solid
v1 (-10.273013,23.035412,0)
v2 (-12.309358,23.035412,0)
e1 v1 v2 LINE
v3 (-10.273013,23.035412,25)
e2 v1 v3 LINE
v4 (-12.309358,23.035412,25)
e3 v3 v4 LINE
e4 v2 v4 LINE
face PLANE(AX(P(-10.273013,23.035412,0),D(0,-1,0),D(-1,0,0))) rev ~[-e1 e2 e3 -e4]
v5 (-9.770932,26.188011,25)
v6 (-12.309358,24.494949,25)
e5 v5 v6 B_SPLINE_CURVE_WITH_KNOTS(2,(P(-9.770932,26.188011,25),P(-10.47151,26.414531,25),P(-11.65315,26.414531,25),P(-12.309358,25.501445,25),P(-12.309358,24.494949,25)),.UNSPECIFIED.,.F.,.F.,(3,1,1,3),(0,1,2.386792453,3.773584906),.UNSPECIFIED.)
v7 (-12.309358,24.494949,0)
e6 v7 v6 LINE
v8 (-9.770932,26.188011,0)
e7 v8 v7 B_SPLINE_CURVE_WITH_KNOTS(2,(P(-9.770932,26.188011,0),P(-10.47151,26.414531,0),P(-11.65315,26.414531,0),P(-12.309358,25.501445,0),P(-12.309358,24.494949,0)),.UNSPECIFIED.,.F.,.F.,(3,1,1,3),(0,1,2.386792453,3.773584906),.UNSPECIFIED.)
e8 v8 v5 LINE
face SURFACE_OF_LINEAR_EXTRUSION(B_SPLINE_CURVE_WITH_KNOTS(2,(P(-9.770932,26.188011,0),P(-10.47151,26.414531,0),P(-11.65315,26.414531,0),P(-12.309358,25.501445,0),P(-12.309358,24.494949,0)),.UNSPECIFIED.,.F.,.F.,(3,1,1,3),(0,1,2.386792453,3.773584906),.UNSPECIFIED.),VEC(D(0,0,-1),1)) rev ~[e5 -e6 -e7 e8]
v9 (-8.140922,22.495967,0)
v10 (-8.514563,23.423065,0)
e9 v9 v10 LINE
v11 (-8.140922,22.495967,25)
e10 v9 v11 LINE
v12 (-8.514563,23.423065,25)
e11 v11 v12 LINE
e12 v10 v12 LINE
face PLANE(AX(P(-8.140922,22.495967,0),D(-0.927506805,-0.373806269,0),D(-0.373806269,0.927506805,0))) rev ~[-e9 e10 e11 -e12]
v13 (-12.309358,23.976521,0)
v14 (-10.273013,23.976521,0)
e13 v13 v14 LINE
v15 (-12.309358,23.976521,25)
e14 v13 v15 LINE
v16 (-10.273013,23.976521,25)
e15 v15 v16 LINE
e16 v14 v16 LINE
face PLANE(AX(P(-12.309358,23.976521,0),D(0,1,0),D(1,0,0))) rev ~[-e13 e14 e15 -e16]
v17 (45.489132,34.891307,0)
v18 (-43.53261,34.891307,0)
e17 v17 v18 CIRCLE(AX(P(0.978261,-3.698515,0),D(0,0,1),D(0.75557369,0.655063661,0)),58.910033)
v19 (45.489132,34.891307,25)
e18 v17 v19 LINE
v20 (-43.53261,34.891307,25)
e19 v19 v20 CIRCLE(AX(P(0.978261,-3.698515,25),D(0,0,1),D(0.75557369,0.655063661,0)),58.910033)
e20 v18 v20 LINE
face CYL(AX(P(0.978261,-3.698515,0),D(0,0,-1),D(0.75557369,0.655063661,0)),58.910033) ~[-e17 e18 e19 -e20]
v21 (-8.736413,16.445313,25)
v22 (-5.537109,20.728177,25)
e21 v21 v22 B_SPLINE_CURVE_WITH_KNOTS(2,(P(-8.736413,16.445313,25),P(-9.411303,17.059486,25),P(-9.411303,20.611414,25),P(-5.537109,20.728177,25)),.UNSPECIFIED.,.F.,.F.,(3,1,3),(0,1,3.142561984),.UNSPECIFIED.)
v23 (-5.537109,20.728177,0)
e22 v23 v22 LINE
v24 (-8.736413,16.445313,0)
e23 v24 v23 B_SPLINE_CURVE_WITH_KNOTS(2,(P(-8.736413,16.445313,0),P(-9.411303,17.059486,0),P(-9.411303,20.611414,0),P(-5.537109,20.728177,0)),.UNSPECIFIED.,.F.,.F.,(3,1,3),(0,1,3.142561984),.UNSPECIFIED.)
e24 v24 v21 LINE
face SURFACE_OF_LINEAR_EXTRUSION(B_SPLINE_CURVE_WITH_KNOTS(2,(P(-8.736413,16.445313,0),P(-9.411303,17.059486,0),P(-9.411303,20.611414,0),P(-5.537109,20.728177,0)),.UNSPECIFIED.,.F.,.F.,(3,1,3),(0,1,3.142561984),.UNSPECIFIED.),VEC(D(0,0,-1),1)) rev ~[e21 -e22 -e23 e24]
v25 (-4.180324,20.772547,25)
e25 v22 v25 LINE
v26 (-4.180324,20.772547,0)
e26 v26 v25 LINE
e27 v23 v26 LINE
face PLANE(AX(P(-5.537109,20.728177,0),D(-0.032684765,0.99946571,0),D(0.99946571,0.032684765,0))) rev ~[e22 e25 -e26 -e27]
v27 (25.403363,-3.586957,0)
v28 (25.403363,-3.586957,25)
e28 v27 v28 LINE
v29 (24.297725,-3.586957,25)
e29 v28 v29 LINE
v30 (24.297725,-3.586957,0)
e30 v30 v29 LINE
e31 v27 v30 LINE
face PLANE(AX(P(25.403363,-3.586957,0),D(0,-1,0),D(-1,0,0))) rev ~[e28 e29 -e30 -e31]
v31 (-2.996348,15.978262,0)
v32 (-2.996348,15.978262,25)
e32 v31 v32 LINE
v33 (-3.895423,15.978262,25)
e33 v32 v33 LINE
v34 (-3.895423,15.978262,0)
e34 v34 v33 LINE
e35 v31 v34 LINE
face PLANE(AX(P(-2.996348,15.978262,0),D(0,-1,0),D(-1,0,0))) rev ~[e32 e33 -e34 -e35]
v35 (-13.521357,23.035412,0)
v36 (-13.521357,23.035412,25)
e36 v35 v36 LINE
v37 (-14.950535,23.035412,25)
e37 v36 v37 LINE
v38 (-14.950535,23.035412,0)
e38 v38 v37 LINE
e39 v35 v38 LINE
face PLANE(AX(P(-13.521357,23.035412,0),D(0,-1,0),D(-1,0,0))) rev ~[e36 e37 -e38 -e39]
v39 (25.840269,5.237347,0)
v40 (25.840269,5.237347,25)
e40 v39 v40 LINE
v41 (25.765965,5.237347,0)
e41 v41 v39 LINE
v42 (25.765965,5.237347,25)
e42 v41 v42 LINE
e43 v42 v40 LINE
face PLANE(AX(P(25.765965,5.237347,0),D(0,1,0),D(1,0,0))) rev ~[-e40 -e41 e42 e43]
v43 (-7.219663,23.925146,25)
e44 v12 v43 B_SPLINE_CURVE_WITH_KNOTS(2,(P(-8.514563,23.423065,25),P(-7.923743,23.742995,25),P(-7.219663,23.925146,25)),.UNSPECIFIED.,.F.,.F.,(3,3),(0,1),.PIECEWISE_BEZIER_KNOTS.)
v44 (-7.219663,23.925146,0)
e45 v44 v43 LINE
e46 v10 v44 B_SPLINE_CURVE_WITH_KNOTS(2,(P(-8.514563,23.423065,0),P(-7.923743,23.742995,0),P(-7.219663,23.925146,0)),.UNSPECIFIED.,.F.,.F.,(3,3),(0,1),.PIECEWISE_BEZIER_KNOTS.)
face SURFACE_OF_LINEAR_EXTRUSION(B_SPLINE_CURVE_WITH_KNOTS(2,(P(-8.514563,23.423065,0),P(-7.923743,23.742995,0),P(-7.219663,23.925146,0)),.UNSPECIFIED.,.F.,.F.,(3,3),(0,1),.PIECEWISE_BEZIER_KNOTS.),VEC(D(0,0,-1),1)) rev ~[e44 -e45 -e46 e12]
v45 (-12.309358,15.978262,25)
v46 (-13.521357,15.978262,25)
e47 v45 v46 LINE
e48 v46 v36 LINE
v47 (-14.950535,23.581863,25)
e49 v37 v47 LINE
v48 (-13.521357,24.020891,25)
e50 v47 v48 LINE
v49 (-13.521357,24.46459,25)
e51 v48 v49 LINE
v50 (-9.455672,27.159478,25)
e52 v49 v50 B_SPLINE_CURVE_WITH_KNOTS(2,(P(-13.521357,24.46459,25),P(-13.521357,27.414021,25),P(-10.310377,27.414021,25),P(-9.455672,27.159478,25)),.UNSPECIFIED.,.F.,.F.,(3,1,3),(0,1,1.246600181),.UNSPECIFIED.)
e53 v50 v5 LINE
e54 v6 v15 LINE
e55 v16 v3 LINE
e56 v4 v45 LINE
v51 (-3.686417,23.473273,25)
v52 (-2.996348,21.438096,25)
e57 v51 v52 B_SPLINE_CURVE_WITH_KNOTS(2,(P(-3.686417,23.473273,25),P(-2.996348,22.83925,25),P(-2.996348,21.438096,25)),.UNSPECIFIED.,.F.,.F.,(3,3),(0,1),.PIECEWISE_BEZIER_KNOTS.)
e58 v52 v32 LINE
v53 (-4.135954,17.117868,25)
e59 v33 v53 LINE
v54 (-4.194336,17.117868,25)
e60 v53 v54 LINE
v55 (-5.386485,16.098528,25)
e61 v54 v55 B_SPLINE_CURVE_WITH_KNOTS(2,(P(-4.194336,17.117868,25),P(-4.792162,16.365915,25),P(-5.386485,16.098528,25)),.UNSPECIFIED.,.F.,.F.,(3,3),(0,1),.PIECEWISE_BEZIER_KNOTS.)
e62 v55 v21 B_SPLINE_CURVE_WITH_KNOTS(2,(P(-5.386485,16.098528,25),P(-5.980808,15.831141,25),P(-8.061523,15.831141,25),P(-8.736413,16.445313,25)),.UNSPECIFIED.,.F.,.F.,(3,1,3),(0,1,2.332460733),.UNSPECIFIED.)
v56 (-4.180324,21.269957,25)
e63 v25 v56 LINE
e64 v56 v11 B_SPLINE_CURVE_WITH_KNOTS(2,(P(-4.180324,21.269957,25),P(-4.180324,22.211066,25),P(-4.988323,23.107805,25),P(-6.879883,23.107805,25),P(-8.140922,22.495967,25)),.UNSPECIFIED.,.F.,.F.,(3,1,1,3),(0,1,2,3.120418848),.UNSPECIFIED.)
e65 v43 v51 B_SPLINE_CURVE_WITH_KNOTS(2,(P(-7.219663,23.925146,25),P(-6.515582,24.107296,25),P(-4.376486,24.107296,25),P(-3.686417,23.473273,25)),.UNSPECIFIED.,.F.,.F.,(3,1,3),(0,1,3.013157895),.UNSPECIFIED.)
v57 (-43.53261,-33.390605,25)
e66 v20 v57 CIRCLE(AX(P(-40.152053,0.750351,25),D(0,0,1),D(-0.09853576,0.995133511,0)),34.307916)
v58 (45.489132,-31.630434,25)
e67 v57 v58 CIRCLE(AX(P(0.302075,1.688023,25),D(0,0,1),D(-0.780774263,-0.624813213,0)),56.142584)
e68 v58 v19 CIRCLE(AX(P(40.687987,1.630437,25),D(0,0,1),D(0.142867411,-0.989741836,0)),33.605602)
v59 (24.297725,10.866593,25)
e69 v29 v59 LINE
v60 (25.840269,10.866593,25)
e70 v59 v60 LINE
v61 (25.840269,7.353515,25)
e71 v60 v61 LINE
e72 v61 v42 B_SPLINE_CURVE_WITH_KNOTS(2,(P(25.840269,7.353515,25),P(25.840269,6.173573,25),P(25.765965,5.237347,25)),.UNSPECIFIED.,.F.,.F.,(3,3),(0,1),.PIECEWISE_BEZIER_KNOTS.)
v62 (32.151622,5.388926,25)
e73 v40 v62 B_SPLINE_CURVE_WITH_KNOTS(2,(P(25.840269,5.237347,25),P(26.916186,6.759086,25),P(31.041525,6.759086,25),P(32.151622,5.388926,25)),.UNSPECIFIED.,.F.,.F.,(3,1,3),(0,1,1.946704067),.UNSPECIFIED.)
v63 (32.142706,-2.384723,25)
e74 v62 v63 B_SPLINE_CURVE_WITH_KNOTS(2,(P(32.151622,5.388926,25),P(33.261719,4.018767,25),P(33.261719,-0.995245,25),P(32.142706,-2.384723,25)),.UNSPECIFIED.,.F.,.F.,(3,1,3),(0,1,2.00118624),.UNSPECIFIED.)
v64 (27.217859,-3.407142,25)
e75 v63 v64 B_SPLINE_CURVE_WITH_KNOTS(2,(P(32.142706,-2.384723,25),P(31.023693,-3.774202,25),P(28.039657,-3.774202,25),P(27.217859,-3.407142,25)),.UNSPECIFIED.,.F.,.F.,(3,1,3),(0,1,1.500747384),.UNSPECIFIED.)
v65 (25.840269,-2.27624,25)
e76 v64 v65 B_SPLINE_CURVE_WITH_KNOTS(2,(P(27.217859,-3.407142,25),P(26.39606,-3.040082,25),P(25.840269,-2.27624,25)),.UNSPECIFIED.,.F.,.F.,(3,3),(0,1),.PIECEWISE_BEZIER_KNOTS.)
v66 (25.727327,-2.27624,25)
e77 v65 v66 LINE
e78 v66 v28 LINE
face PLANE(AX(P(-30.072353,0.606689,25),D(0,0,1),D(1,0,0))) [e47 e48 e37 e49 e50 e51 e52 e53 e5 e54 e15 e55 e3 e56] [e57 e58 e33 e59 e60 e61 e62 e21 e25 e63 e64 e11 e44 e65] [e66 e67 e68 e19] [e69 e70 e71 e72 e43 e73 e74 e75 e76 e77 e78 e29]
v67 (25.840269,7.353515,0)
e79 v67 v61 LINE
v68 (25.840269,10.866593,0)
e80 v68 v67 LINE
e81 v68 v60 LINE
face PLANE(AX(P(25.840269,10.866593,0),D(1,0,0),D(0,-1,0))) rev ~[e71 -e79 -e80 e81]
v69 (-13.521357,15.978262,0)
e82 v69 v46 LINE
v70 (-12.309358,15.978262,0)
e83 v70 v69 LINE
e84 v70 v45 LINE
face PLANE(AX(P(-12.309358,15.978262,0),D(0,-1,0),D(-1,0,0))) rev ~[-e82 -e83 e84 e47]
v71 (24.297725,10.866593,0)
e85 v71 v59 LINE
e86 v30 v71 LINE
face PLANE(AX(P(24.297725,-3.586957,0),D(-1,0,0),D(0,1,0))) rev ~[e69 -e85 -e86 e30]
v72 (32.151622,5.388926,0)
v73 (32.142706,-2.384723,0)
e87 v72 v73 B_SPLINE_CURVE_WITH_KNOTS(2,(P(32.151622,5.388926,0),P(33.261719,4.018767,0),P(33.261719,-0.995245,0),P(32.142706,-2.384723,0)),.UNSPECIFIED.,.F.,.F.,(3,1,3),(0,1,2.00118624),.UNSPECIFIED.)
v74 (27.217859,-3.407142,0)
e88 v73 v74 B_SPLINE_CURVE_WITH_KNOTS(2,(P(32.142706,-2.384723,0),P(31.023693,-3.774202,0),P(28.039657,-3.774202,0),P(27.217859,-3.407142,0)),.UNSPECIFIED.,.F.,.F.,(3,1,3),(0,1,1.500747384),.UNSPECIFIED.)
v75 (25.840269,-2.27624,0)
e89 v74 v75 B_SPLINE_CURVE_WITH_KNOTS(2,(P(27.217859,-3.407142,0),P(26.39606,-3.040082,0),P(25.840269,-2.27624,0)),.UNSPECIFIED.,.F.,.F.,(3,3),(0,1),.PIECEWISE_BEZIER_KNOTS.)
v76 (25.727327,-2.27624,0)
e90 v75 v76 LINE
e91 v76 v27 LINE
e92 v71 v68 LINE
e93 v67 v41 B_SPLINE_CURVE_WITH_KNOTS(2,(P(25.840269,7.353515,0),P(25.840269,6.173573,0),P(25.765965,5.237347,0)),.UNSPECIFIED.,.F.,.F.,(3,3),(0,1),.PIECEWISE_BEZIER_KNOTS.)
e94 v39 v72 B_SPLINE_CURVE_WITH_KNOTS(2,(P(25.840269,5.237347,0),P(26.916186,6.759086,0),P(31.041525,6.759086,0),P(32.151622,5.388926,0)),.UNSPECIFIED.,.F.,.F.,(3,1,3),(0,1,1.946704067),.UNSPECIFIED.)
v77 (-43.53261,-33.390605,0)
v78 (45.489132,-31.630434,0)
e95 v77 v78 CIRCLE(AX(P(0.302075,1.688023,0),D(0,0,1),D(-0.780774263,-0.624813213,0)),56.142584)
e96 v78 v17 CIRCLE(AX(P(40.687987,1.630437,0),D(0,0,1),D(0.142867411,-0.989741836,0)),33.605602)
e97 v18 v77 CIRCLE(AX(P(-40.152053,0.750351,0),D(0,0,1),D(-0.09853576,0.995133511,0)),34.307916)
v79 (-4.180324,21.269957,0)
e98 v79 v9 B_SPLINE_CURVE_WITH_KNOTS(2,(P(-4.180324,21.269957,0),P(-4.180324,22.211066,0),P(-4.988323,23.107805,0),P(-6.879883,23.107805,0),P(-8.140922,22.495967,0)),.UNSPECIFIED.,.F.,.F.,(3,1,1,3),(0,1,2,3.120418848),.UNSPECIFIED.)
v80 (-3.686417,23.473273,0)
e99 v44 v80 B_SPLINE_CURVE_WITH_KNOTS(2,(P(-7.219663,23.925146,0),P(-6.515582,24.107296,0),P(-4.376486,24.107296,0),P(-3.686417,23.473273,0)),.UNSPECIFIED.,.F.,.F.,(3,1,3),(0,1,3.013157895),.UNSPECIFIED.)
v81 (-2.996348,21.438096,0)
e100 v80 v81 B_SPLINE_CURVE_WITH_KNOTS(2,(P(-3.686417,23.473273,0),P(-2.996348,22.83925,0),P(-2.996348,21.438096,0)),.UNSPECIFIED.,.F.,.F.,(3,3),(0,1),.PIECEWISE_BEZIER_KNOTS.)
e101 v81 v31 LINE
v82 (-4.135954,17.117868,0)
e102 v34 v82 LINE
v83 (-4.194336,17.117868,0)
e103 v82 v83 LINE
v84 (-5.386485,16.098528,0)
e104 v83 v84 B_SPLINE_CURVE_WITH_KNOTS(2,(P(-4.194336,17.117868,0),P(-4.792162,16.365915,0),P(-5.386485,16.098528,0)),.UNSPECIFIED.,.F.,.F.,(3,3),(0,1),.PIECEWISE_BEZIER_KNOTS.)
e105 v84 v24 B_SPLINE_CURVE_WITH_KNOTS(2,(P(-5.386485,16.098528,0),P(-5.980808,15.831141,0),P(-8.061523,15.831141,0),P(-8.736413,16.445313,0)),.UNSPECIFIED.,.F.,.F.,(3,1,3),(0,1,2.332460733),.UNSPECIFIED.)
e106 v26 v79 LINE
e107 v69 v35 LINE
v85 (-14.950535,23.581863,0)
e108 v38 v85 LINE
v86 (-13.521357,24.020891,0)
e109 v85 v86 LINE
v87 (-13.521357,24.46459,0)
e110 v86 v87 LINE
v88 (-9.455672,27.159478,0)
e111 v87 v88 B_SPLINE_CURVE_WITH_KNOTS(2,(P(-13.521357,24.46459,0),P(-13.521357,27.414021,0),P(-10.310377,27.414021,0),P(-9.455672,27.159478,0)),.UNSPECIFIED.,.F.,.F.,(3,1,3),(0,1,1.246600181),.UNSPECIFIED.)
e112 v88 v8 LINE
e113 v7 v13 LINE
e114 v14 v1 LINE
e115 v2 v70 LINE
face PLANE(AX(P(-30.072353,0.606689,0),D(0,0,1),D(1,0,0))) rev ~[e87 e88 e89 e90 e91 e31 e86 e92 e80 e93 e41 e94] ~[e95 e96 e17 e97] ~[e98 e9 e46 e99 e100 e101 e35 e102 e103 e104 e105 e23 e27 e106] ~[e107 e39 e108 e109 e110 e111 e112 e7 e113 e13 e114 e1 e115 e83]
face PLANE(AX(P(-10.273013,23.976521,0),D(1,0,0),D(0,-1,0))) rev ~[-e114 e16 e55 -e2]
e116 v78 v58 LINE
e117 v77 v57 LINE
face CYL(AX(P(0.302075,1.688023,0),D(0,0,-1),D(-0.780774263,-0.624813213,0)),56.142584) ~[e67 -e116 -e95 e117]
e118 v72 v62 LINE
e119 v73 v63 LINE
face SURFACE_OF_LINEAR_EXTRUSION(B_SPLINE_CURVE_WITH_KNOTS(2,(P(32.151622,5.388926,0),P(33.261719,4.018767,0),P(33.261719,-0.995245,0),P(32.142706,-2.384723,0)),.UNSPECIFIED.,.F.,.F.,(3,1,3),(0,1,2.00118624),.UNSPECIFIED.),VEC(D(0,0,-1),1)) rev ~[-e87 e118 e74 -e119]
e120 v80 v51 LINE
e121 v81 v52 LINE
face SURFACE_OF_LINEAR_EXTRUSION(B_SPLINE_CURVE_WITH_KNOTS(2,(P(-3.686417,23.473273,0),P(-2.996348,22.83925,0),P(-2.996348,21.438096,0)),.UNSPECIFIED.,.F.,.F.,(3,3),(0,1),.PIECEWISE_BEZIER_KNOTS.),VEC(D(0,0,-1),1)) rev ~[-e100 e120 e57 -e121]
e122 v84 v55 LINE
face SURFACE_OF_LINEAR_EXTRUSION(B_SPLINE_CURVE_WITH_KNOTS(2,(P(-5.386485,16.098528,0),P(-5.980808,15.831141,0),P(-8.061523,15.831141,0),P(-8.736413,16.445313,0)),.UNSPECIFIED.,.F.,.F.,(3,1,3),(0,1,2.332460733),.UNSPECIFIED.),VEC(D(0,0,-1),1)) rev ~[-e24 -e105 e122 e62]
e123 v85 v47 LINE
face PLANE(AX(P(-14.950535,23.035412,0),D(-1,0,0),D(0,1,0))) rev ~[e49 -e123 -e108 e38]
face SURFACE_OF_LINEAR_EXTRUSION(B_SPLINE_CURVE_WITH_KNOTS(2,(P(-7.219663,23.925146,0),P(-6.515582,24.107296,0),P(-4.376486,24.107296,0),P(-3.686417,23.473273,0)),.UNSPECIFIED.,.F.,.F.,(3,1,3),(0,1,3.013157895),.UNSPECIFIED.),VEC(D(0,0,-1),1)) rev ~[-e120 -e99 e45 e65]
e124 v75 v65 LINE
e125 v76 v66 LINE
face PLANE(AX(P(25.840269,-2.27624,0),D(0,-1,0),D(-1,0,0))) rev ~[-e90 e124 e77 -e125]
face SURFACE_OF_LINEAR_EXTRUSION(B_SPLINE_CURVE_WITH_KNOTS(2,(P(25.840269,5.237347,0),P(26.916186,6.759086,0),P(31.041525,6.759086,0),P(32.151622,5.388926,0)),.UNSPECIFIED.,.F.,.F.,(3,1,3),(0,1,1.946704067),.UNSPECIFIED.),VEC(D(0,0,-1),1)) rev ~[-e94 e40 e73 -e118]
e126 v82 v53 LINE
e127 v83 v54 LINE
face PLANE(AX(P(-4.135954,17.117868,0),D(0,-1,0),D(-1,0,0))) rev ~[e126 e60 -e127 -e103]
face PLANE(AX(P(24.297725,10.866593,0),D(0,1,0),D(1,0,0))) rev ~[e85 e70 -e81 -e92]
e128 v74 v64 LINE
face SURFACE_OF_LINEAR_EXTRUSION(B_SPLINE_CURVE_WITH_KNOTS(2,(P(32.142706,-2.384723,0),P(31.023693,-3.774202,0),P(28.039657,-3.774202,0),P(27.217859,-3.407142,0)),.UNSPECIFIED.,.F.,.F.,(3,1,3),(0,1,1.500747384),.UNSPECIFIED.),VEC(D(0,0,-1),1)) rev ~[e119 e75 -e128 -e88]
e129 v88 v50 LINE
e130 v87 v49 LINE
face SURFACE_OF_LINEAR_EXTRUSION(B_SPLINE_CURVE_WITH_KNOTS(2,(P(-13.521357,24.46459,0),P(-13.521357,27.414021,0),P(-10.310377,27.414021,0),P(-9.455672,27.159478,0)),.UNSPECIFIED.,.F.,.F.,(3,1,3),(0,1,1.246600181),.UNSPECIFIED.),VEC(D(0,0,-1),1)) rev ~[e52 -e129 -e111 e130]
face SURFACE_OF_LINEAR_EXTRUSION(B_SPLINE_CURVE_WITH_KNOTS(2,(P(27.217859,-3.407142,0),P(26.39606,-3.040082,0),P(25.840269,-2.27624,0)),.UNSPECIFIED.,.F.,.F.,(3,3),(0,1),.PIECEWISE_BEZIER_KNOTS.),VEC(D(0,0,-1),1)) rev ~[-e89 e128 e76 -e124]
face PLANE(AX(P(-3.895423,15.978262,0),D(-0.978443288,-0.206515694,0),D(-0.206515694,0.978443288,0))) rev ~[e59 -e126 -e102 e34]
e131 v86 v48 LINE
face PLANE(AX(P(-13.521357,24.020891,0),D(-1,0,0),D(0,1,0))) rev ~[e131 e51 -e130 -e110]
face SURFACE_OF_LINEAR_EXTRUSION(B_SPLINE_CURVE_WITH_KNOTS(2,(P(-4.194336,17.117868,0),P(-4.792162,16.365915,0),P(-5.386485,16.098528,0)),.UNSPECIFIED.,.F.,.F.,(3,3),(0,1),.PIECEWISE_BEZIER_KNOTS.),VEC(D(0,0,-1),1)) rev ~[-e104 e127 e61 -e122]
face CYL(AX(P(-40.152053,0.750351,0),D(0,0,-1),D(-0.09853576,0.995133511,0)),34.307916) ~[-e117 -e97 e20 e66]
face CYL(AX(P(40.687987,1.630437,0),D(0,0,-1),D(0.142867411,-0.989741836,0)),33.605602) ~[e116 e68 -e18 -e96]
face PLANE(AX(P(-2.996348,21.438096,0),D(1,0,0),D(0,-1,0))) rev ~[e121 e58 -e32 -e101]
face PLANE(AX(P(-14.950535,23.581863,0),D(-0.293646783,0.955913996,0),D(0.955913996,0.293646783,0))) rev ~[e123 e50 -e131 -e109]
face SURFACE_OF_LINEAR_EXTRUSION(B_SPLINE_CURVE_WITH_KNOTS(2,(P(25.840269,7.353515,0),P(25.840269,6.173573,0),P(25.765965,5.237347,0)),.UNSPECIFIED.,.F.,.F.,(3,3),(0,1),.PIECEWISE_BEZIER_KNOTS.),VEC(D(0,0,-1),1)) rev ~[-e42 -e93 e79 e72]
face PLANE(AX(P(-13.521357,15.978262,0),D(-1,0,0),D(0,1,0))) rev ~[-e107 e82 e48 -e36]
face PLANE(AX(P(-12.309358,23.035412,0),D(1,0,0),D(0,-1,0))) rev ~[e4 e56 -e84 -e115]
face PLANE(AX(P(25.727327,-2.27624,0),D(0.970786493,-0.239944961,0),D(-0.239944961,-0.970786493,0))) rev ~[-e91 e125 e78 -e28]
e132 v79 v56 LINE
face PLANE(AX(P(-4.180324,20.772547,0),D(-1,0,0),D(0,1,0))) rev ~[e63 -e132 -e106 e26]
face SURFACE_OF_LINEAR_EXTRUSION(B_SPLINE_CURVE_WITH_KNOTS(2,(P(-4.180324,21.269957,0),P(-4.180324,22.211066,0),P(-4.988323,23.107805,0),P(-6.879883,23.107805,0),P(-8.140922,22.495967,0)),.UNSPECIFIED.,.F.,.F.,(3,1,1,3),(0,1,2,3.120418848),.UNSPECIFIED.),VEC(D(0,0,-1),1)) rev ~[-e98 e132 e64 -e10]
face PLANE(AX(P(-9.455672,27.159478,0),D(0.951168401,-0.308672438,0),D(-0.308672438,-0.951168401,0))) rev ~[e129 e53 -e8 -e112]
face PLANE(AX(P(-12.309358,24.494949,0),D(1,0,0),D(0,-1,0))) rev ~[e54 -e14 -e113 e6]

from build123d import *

# Parameters (mm, degrees)
F1_DEPTH = 25


with BuildPart() as f1:
    # F0 (on Top) → F1 (new body)
    with BuildSketch(Plane.XY):
        Polygon((-43.5326099396, -33.3906054708), (0, 0), (-43.5326099396, 34.891307354), align=None)
        Polygon((-43.5326099396, 34.891307354), (0, 0), (45.4891324043, 34.891307354), align=None)
        with BuildLine():
            Line((-2.9963482407, 15.9782618284), (-3.8954226515, 15.9782618284))
            Line((-3.8954226515, 15.9782618284), (-4.1359542471, 17.1178678348))
            Line((-4.1359542471, 17.1178678348), (-4.1943357024, 17.1178678348))
            add(Edge.make_bspline(
                [(-4.1943357024, 17.1178678348), (-4.7921618041, 16.3659146913), (-5.3864850185, 16.0985276262)],
                knots=[0, 0, 0, 1, 1, 1], degree=2))
            add(Edge.make_bspline(
                [(-5.3864850185, 16.0985276262), (-5.9808082329, 15.8311405612), (-6.872876869, 15.8311405612)],
                knots=[0, 0, 0, 1, 1, 1], degree=2))
            add(Edge.make_bspline(
                [(-6.872876869, 15.8311405612), (-8.0615232978, 15.8311405612), (-8.7364129205, 16.4453134704)],
                knots=[0, 0, 0, 1, 1, 1], degree=2))
            add(Edge.make_bspline(
                [(-8.7364129205, 16.4453134704), (-9.4113025431, 17.0594863796), (-9.4113025431, 18.1897513531)],
                knots=[0, 0, 0, 1, 1, 1], degree=2))
            add(Edge.make_bspline(
                [(-9.4113025431, 18.1897513531), (-9.4113025431, 20.6114141167), (-5.537109173, 20.7281770272)],
                knots=[0, 0, 0, 1, 1, 1], degree=2))
            Line((-5.537109173, 20.7281770272), (-4.1803241531, 20.7725469332))
            Line((-4.1803241531, 20.7725469332), (-4.1803241531, 21.2699569319))
            add(Edge.make_bspline(
                [(-4.1803241531, 21.2699569319), (-4.1803241531, 22.2110659904), (-4.5843238234, 22.6594355667)],
                knots=[0, 0, 0, 1, 1, 1], degree=2))
            add(Edge.make_bspline(
                [(-4.5843238234, 22.6594355667), (-4.9883234937, 23.107805143), (-5.8803921299, 23.107805143)],
                knots=[0, 0, 0, 1, 1, 1], degree=2))
            add(Edge.make_bspline(
                [(-5.8803921299, 23.107805143), (-6.8798826437, 23.107805143), (-8.140922077, 22.495967492)],
                knots=[0, 0, 0, 1, 1, 1], degree=2))
            Line((-8.140922077, 22.495967492), (-8.5145633905, 23.4230650013))
            add(Edge.make_bspline(
                [(-8.5145633905, 23.4230650013), (-7.9237430635, 23.7429953761), (-7.2196627132, 23.9251455164)],
                knots=[0, 0, 0, 1, 1, 1], degree=2))
            add(Edge.make_bspline(
                [(-7.2196627132, 23.9251455164), (-6.5155823629, 24.1072956568), (-5.8056638671, 24.1072956568)],
                knots=[0, 0, 0, 1, 1, 1], degree=2))
            add(Edge.make_bspline(
                [(-5.8056638671, 24.1072956568), (-4.3764858427, 24.1072956568), (-3.6864170417, 23.4732730528)],
                knots=[0, 0, 0, 1, 1, 1], degree=2))
            add(Edge.make_bspline(
                [(-3.6864170417, 23.4732730528), (-2.9963482407, 22.8392504489), (-2.9963482407, 21.438095523)],
                knots=[0, 0, 0, 1, 1, 1], degree=2))
            Line((-2.9963482407, 21.438095523), (-2.9963482407, 15.9782618284))
        make_face(mode=Mode.SUBTRACT)
        with BuildLine():
            Line((-10.2730128225, 23.9765211971), (-10.2730128225, 23.0354121385))
            Line((-10.2730128225, 23.0354121385), (-12.3093579815, 23.0354121385))
            Line((-12.3093579815, 23.0354121385), (-12.3093579815, 15.9782618284))
            Line((-12.3093579815, 15.9782618284), (-13.5213569924, 15.9782618284))
            Line((-13.5213569924, 15.9782618284), (-13.5213569924, 23.0354121385))
            Line((-13.5213569924, 23.0354121385), (-14.9505350168, 23.0354121385))
            Line((-14.9505350168, 23.0354121385), (-14.9505350168, 23.5818625596))
            Line((-14.9505350168, 23.5818625596), (-13.5213569924, 24.020891103))
            Line((-13.5213569924, 24.020891103), (-13.5213569924, 24.4645901629))
            add(Edge.make_bspline(
                [(-13.5213569924, 24.4645901629), (-13.5213569924, 27.4140212819), (-10.945567187, 27.4140212819)],
                knots=[0, 0, 0, 1, 1, 1], degree=2))
            add(Edge.make_bspline(
                [(-10.945567187, 27.4140212819), (-10.3103769539, 27.4140212819), (-9.4556724491, 27.159478137)],
                knots=[0, 0, 0, 1, 1, 1], degree=2))
            Line((-9.4556724491, 27.159478137), (-9.7709323074, 26.1880107218))
            add(Edge.make_bspline(
                [(-9.7709323074, 26.1880107218), (-10.4715097704, 26.4145307681), (-10.9665845108, 26.4145307681)],
                knots=[0, 0, 0, 1, 1, 1], degree=2))
            add(Edge.make_bspline(
                [(-10.9665845108, 26.4145307681), (-11.6531504245, 26.4145307681), (-11.981254203, 25.9579877881)],
                knots=[0, 0, 0, 1, 1, 1], degree=2))
            add(Edge.make_bspline(
                [(-11.981254203, 25.9579877881), (-12.3093579815, 25.5014448081), (-12.3093579815, 24.4949485196)],
                knots=[0, 0, 0, 1, 1, 1], degree=2))
            Line((-12.3093579815, 24.4949485196), (-12.3093579815, 23.9765211971))
            Line((-12.3093579815, 23.9765211971), (-10.2730128225, 23.9765211971))
        make_face(mode=Mode.SUBTRACT)
        Polygon((45.4891324043, 34.891307354), (0, 0), (45.4891324043, -31.6304340959), align=None)
        with BuildLine():
            add(Edge.make_bspline(
                [(25.8402686661, 5.2373468753), (26.9161857823, 6.759086001), (29.0353264006, 6.759086001)],
                knots=[0, 0, 0, 1, 1, 1], degree=2))
            add(Edge.make_bspline(
                [(29.0353264006, 6.759086001), (31.0415254433, 6.759086001), (32.1516222469, 5.3889263585)],
                knots=[0, 0, 0, 1, 1, 1], degree=2))
            add(Edge.make_bspline(
                [(32.1516222469, 5.3889263585), (33.2617190504, 4.0187667161), (33.2617190504, 1.5132470229)],
                knots=[0, 0, 0, 1, 1, 1], degree=2))
            add(Edge.make_bspline(
                [(33.2617190504, 1.5132470229), (33.2617190504, -0.9952448171), (32.1427058067, -2.3847234133)],
                knots=[0, 0, 0, 1, 1, 1], degree=2))
            add(Edge.make_bspline(
                [(32.1427058067, -2.3847234133), (31.0236925629, -3.7742020095), (29.0353264006, -3.7742020095)],
                knots=[0, 0, 0, 1, 1, 1], degree=2))
            add(Edge.make_bspline(
                [(29.0353264006, -3.7742020095), (28.0396572462, -3.7742020095), (27.2178586754, -3.4071418883)],
                knots=[0, 0, 0, 1, 1, 1], degree=2))
            add(Edge.make_bspline(
                [(27.2178586754, -3.4071418883), (26.3960601046, -3.0400817672), (25.8402686661, -2.2762400577)],
                knots=[0, 0, 0, 1, 1, 1], degree=2))
            Line((25.8402686661, -2.2762400577), (25.7273270904, -2.2762400577))
            Line((25.7273270904, -2.2762400577), (25.4033630968, -3.5869567655))
            Line((25.4033630968, -3.5869567655), (24.2977245133, -3.5869567655))
            Line((24.2977245133, -3.5869567655), (24.2977245133, 10.8665927816))
            Line((24.2977245133, 10.8665927816), (25.8402686661, 10.8665927816))
            Line((25.8402686661, 10.8665927816), (25.8402686661, 7.3535153469))
            add(Edge.make_bspline(
                [(25.8402686661, 7.3535153469), (25.8402686661, 6.1735730952), (25.7659649978, 5.2373468753)],
                knots=[0, 0, 0, 1, 1, 1], degree=2))
            Line((25.7659649978, 5.2373468753), (25.8402686661, 5.2373468753))
        make_face(mode=Mode.SUBTRACT)
        Polygon((45.4891324043, -31.6304340959), (0, 0), (-43.5326099396, -33.3906054708), align=None)
        with BuildLine():
            ThreePointArc((45.4891324043, 34.891307354), (0.9782612324, 55.2115185664), (-43.5326099396, 34.891307354))
            Line((-43.5326099396, 34.891307354), (45.4891324043, 34.891307354))
        make_face()
        with BuildLine():
            Line((-43.5326099396, -33.3906054708), (-43.5326099396, 34.891307354))
            ThreePointArc((-43.5326099396, 34.891307354), (-74.4599689303, 0.7503509416), (-43.5326099396, -33.3906054708))
        make_face()
        with BuildLine():
            ThreePointArc((45.4891324043, -31.6304340959), (74.2935894706, 1.6304366291), (45.4891324043, 34.891307354))
            Line((45.4891324043, 34.891307354), (45.4891324043, -31.6304340959))
        make_face()
        with BuildLine():
            ThreePointArc((-43.5326099396, -33.3906054708), (1.4119301482, -54.4435900738), (45.4891324043, -31.6304340959))
            Line((45.4891324043, -31.6304340959), (-43.5326099396, -33.3906054708))
        make_face()
    extrude(amount=F1_DEPTH)


solid = f1.part
